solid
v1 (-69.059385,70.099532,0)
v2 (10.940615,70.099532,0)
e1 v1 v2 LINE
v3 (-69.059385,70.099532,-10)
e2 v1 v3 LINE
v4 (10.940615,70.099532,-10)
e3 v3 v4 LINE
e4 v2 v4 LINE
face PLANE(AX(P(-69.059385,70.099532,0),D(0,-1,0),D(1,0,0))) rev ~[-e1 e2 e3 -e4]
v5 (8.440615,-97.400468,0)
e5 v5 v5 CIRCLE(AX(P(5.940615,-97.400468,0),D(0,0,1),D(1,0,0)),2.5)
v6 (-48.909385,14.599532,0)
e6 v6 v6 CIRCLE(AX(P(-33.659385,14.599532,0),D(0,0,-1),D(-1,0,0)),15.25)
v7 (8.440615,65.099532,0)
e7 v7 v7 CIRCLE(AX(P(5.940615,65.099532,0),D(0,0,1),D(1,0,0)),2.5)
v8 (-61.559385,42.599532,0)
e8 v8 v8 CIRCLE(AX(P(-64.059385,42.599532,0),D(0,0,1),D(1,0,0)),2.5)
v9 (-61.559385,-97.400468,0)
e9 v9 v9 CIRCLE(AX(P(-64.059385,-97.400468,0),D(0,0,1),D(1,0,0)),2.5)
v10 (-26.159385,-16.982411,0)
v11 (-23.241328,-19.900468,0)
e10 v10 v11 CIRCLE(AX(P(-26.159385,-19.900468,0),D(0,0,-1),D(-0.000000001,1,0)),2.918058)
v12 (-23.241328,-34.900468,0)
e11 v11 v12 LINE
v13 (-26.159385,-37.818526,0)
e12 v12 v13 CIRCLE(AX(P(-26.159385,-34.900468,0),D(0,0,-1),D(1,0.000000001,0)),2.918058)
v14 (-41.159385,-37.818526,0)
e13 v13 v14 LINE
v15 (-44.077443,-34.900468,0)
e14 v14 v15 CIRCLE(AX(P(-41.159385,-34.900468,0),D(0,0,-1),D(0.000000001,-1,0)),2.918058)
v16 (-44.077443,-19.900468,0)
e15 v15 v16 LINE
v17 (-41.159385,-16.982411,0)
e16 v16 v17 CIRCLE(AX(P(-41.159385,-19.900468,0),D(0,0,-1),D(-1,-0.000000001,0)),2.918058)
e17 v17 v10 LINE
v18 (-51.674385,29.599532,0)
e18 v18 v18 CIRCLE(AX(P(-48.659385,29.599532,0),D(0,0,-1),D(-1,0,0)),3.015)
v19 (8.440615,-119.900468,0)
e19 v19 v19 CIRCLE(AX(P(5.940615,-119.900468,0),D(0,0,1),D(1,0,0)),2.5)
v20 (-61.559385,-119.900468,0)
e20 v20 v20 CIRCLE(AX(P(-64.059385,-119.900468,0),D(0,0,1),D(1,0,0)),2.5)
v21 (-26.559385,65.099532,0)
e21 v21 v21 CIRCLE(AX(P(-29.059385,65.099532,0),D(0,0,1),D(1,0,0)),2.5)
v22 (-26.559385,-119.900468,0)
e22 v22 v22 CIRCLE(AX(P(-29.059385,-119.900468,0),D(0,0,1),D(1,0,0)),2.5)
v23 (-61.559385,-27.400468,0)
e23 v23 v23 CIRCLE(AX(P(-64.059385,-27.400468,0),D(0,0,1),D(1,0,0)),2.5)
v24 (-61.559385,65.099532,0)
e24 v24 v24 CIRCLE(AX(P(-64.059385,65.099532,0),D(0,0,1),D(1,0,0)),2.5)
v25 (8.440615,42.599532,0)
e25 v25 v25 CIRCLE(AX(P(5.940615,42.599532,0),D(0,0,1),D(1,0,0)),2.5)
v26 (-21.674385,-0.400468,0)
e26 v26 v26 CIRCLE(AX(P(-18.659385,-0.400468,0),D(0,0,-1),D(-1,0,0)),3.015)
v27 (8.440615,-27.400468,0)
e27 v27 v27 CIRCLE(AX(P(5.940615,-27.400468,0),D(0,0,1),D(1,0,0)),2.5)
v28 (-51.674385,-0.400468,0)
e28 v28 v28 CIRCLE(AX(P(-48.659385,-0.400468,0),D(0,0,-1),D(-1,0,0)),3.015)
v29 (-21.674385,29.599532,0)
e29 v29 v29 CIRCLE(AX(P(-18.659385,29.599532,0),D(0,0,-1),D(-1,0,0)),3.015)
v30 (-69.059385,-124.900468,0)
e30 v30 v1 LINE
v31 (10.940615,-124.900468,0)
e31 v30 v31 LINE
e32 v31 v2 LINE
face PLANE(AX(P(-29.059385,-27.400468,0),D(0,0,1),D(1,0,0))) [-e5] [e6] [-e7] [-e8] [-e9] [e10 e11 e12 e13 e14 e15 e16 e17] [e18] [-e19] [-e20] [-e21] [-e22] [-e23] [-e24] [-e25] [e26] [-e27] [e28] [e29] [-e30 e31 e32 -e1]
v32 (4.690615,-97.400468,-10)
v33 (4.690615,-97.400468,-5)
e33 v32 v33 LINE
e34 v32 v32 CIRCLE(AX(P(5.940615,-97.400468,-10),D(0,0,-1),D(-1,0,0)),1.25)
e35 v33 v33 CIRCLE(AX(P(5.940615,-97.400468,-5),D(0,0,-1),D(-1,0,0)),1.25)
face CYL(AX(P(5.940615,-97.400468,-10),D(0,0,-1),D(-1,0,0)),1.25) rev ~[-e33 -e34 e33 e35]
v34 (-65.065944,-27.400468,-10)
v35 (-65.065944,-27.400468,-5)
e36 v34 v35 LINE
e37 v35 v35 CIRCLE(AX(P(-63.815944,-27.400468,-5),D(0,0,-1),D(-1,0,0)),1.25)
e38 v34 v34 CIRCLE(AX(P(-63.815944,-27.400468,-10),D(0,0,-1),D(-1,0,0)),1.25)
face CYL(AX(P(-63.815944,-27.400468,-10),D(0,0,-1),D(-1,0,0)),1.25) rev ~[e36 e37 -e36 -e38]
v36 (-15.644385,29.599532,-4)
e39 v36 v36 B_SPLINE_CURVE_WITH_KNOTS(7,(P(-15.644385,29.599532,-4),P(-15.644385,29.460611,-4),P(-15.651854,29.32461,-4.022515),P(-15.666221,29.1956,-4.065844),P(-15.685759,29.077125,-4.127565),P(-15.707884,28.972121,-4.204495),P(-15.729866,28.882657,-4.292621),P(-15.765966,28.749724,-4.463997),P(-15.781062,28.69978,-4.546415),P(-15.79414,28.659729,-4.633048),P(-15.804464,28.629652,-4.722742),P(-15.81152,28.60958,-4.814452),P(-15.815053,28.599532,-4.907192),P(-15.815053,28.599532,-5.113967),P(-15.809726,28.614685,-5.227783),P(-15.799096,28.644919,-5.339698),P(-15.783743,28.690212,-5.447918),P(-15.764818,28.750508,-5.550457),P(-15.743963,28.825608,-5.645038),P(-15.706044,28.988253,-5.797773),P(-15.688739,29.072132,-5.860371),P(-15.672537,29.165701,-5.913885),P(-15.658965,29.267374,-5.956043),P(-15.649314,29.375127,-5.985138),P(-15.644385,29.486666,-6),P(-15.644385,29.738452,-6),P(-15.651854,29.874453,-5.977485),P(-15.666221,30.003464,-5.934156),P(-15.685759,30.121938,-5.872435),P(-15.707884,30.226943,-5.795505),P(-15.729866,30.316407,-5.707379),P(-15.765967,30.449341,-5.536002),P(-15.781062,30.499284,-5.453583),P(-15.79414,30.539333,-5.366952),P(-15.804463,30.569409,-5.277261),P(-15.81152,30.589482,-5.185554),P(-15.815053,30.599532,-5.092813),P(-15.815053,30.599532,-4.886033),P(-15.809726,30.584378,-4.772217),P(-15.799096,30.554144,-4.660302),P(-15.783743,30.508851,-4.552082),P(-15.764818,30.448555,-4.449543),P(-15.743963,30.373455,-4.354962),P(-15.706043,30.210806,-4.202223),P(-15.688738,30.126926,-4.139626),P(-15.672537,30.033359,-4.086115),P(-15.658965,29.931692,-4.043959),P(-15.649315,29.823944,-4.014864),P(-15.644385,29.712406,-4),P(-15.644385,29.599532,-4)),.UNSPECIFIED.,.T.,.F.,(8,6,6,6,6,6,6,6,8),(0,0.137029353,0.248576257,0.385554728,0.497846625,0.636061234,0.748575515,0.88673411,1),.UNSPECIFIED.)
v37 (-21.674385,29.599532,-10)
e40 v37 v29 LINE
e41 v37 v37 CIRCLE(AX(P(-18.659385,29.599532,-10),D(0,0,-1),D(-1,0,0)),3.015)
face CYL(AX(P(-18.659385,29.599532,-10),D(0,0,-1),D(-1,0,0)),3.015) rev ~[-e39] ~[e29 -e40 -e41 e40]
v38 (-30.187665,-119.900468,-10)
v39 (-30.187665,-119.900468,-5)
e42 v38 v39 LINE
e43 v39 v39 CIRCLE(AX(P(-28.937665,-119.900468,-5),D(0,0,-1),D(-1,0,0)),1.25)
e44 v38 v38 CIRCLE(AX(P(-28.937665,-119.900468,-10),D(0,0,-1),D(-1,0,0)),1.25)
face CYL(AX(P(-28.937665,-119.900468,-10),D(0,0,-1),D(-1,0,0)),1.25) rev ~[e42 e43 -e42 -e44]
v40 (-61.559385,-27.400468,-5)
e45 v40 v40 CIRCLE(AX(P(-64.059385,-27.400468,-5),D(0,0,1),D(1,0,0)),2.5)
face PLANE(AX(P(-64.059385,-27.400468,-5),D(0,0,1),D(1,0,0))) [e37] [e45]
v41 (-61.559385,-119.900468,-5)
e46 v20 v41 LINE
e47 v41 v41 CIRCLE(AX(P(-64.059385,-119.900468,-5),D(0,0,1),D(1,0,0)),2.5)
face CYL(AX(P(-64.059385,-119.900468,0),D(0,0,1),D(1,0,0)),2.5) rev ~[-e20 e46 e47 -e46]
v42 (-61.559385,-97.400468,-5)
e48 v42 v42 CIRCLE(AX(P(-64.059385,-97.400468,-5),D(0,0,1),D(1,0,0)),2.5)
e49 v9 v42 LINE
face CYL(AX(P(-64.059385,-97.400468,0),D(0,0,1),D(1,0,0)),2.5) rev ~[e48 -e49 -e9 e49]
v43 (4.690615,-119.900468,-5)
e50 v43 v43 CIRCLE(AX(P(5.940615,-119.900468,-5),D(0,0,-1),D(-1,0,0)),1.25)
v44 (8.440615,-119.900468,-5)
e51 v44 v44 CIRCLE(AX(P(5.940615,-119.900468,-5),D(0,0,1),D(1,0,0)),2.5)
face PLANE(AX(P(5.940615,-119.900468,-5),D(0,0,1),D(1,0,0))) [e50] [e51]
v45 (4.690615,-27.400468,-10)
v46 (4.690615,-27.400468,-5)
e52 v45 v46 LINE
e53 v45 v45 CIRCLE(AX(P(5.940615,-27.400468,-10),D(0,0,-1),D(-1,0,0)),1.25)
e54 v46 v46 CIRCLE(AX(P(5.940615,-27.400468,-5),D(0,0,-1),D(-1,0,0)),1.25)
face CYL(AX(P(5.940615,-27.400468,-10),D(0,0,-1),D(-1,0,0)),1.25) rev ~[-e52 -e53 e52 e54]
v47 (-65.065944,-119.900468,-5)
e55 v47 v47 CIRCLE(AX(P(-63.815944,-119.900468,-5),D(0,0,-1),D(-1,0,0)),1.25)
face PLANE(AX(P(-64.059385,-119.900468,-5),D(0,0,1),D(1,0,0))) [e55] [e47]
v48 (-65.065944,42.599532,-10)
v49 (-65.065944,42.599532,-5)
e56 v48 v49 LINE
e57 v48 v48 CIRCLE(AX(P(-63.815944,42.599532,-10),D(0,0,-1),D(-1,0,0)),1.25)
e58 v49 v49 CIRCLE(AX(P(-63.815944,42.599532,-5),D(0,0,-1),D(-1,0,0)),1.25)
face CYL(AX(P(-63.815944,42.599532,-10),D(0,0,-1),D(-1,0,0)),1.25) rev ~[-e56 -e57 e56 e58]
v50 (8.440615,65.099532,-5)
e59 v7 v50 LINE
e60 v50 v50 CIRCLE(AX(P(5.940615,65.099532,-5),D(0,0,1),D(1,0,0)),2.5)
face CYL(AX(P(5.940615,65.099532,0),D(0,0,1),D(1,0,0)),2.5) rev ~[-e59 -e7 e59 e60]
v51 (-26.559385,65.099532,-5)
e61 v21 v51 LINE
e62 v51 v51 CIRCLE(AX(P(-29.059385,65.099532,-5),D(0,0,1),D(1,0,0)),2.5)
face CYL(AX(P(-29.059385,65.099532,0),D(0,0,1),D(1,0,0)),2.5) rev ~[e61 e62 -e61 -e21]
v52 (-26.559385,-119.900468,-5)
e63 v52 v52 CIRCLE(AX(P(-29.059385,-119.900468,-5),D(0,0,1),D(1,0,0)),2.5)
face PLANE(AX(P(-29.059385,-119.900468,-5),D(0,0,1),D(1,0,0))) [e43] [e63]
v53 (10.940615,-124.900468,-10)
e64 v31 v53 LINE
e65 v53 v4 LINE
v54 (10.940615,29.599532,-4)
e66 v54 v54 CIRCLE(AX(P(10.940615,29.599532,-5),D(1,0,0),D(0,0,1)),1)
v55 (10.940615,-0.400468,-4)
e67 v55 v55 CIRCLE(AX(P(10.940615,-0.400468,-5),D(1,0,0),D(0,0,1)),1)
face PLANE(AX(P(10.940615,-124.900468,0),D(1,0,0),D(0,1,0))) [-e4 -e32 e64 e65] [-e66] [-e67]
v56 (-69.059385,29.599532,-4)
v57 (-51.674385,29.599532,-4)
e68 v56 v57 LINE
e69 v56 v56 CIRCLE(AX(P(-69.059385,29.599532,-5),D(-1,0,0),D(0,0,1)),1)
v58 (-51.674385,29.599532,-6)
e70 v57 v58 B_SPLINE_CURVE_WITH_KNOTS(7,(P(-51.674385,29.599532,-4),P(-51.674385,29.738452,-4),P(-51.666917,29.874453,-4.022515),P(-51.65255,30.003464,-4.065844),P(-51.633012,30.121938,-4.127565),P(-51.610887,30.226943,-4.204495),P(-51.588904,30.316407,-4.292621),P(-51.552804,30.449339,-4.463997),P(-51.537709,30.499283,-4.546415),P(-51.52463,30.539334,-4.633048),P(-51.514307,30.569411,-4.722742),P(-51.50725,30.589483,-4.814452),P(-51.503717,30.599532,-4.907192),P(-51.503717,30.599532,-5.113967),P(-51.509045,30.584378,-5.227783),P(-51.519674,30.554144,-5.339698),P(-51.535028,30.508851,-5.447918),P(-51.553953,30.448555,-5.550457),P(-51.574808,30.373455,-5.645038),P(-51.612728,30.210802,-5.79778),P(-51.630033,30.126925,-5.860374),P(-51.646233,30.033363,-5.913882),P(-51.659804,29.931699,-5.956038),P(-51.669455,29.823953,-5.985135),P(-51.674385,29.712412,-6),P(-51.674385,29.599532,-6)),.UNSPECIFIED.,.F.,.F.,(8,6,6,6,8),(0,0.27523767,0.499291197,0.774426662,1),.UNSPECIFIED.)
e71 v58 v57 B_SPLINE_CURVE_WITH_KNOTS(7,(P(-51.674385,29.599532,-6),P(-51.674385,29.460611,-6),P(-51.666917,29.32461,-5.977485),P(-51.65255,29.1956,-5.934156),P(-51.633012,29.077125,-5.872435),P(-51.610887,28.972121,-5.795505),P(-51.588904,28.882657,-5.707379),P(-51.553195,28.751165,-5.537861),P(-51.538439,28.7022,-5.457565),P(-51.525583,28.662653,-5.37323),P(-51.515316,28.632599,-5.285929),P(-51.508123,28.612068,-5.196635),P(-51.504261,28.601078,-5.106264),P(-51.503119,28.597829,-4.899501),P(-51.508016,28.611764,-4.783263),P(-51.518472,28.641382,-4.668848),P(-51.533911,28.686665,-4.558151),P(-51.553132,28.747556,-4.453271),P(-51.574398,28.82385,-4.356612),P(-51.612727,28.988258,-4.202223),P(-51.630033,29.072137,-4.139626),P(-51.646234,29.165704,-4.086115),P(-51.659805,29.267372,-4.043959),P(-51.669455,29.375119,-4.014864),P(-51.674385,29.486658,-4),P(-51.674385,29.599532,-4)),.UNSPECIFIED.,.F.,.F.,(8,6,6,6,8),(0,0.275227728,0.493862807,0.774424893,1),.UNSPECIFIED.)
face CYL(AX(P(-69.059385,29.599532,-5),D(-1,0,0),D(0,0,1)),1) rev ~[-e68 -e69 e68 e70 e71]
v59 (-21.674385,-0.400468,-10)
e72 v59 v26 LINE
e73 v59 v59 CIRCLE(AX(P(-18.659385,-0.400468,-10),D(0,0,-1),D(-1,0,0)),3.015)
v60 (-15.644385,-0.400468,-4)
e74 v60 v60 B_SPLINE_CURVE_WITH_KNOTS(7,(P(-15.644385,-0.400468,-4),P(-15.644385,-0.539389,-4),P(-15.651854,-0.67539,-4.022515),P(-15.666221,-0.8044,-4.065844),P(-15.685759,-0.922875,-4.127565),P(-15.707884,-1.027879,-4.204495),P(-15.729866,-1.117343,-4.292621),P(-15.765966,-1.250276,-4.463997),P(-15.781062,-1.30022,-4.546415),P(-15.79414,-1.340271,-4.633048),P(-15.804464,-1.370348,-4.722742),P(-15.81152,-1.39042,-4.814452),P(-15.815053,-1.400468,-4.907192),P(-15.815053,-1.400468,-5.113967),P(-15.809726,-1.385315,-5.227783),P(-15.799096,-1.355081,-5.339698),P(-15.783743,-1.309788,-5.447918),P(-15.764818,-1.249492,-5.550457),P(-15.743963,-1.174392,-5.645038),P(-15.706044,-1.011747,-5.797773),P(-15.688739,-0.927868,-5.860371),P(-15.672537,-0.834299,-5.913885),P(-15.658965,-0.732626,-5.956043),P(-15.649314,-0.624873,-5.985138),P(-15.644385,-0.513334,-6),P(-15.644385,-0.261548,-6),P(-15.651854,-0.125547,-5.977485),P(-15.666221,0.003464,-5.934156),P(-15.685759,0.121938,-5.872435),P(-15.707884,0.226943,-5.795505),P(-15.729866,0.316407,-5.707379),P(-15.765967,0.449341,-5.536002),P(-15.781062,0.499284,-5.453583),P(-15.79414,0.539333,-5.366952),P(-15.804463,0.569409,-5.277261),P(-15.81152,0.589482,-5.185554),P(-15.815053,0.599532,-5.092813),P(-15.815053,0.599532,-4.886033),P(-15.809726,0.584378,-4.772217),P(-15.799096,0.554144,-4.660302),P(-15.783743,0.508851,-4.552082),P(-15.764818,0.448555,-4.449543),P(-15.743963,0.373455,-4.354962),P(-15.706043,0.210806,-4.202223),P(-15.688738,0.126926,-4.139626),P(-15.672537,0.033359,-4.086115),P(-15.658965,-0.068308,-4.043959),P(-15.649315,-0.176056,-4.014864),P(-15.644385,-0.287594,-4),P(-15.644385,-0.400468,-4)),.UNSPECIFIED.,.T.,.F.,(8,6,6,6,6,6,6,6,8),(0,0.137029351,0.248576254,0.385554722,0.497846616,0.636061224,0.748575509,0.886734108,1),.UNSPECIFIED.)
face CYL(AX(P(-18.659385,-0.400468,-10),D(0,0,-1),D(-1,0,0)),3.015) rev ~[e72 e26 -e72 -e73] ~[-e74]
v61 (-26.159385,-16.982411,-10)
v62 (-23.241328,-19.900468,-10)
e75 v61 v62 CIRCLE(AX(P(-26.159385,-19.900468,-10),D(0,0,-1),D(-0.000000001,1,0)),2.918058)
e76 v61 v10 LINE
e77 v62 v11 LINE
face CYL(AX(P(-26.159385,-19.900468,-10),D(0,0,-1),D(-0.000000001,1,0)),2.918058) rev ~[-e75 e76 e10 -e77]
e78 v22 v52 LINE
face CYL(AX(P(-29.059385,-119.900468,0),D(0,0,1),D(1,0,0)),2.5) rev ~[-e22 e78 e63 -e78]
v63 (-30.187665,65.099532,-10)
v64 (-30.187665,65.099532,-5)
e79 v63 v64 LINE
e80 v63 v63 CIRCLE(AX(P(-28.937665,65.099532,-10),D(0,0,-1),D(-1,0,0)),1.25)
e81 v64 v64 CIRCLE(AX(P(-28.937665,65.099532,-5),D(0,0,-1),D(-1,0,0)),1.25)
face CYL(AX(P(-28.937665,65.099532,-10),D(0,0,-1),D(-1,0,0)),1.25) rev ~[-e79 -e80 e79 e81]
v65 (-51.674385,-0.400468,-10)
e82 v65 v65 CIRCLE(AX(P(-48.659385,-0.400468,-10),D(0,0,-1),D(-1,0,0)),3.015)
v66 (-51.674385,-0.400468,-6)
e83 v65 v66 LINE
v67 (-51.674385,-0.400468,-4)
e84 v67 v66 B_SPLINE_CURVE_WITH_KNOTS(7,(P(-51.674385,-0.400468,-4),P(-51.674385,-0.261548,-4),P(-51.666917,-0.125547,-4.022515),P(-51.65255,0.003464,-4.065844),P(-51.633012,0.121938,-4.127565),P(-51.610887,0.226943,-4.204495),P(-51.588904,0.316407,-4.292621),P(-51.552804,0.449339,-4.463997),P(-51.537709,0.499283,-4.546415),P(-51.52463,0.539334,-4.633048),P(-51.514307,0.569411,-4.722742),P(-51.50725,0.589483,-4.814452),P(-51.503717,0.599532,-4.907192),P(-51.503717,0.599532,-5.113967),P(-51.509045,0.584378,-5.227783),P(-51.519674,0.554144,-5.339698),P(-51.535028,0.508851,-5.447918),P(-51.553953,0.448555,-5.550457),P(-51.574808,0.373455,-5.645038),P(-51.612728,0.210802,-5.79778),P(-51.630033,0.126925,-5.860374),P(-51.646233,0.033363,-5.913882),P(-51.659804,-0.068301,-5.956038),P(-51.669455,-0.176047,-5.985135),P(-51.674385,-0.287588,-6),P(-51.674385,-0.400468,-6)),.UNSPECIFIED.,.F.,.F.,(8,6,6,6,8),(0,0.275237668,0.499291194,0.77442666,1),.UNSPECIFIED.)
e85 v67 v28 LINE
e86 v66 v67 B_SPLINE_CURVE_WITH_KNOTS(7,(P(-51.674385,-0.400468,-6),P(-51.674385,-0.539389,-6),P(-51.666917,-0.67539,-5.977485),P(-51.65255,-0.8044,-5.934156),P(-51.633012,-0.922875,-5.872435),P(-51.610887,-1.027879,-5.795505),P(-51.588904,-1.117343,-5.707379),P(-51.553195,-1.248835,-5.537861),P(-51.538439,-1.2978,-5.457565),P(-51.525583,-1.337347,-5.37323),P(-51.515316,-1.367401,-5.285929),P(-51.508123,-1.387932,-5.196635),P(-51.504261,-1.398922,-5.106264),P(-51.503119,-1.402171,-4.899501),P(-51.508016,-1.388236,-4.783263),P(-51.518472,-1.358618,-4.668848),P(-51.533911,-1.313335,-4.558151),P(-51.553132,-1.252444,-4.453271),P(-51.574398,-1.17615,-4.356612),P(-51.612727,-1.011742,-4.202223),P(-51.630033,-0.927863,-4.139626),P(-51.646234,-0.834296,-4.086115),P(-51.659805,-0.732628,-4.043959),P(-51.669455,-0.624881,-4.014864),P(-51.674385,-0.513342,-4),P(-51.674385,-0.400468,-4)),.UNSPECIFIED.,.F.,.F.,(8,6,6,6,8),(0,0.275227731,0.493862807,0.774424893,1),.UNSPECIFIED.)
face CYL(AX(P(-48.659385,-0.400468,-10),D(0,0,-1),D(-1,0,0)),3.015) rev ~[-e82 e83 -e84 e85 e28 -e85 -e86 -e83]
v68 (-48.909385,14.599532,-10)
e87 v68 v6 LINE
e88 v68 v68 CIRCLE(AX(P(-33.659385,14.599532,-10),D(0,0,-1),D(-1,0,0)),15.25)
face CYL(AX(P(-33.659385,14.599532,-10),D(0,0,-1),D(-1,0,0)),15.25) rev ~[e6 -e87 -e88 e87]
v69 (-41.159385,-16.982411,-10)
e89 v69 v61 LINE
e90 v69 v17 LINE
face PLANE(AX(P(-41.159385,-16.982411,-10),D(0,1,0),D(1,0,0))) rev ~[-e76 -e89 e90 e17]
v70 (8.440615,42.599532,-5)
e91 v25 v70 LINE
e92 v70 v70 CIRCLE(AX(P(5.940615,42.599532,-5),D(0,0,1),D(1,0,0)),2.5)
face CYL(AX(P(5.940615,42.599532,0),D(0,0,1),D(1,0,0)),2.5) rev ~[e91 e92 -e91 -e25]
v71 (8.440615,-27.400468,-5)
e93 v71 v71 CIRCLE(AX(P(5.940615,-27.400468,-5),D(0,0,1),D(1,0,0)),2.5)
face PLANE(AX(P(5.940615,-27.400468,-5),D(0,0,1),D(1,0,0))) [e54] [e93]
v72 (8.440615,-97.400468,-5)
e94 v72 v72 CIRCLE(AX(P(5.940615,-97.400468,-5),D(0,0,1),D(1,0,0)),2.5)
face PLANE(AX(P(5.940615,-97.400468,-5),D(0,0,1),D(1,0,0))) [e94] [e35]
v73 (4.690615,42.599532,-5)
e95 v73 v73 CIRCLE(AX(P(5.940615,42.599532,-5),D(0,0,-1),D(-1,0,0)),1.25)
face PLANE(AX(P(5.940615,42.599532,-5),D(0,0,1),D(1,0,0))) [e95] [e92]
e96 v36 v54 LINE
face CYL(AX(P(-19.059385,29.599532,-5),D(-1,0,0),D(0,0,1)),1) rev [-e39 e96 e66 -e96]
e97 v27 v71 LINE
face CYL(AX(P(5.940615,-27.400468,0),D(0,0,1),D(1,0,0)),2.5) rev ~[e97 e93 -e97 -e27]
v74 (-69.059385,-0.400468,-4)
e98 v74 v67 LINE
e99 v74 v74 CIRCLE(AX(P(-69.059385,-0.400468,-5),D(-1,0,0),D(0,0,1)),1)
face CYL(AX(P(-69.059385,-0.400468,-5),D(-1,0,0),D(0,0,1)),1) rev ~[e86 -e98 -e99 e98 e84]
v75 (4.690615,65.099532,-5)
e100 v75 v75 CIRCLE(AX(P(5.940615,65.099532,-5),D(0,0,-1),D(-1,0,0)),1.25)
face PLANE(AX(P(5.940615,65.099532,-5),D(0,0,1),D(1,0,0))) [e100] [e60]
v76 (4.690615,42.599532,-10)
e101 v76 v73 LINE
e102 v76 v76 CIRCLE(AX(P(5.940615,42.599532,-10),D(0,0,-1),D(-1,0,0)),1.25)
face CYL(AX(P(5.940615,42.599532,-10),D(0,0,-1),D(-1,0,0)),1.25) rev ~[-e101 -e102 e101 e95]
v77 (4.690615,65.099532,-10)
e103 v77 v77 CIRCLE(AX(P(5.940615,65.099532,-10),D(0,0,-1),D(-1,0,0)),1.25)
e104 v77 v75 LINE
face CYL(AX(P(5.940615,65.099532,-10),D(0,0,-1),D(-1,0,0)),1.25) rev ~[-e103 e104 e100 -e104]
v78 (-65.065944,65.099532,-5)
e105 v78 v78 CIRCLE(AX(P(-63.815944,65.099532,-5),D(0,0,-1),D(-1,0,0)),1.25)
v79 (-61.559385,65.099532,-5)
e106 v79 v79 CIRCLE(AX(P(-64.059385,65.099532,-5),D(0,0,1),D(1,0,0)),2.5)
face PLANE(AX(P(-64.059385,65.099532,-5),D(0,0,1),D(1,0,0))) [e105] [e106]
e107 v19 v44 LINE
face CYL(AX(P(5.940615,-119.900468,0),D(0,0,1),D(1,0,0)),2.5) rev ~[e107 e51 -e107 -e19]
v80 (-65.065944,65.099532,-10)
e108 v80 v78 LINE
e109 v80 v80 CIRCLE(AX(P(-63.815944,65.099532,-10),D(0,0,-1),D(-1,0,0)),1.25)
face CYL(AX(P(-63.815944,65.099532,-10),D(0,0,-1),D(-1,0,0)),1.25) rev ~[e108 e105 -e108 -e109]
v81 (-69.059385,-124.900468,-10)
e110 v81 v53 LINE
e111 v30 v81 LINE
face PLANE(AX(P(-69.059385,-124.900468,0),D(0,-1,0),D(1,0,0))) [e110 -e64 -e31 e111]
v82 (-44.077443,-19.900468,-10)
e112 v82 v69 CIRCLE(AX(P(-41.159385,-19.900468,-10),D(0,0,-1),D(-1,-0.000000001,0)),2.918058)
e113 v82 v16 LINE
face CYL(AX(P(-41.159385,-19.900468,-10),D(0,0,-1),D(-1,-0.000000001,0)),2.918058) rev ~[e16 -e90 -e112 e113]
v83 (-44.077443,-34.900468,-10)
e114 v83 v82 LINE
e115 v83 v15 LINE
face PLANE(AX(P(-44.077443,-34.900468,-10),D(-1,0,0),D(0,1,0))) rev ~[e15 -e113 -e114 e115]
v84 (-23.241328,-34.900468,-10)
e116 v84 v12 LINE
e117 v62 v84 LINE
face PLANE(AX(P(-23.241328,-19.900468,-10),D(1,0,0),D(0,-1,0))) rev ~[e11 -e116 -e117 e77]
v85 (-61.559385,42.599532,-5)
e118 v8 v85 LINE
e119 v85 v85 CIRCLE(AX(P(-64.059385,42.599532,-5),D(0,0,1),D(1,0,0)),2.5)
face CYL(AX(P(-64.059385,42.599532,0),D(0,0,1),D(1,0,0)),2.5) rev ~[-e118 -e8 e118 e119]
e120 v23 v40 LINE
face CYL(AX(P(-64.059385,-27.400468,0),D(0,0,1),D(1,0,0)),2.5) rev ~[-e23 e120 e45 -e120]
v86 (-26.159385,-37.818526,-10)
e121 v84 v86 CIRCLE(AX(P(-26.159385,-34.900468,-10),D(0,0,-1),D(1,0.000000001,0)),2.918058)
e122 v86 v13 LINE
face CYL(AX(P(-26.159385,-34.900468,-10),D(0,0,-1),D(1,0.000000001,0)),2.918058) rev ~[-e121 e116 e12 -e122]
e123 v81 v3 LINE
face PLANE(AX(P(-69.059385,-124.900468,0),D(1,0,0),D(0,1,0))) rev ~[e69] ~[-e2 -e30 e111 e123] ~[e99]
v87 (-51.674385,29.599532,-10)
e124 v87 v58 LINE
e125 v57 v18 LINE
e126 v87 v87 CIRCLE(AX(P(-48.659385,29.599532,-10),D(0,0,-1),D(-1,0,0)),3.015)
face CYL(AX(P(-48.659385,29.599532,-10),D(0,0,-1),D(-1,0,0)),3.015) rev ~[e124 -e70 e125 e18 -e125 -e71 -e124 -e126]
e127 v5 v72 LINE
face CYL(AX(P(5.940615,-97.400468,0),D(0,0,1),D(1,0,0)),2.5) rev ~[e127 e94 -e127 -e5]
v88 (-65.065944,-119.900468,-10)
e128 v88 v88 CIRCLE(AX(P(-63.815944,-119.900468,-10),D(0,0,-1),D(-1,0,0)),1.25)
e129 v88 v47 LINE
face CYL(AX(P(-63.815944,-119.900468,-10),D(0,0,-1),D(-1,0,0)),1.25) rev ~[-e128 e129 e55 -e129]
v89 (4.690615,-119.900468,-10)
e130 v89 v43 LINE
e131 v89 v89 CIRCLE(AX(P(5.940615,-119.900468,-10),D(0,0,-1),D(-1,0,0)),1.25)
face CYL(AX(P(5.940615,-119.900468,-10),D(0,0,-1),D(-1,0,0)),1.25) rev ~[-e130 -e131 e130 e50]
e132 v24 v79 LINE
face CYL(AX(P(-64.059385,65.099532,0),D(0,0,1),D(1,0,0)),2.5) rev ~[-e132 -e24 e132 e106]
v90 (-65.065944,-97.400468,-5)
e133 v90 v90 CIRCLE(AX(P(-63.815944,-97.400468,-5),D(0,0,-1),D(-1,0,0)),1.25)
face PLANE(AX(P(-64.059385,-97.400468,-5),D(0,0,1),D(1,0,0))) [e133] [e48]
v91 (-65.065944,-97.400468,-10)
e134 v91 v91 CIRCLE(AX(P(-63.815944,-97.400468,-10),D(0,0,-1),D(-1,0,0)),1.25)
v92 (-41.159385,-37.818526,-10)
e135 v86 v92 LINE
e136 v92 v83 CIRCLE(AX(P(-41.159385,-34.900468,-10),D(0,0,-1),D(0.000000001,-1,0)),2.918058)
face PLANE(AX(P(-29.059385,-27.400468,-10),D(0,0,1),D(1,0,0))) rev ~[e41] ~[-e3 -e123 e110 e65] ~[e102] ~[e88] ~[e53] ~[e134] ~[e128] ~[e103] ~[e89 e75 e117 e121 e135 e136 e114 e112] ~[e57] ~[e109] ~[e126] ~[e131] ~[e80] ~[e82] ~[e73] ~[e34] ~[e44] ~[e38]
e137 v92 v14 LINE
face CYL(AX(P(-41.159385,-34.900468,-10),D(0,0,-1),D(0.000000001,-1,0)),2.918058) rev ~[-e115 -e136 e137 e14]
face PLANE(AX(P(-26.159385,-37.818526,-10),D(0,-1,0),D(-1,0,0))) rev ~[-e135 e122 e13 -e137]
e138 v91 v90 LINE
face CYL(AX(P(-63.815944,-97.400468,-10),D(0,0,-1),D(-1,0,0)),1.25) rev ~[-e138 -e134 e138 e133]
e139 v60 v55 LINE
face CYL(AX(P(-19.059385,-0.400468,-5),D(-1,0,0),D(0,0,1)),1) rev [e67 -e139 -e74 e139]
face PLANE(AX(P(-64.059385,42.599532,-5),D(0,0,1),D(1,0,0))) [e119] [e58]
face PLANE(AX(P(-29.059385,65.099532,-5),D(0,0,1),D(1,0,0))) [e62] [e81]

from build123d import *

# Parameters (mm, degrees)
SKIZZE1_W                       = 80
SKIZZE1_H                       = 195
AUFSATZ_LINEAR_AUSTRAGEN1_DEPTH = 10
SKIZZE2_R                       = 3.015
SKIZZE2_R_2                     = 15.25
SCHNITT_LINEAR_AUSTRAGEN1_DEPTH = 10
SKIZZE3_R                       = 1.25
SCHNITT_LINEAR_AUSTRAGEN2_DEPTH = 5
SKIZZE4_R                       = 2.5
SCHNITT_LINEAR_AUSTRAGEN3_DEPTH = 5
SKIZZE5_R                       = 1
SCHNITT_LINEAR_AUSTRAGEN4_DEPTH = 20
SCHNITT_LINEAR_START            = -30
SKIZZE6_R                       = 1
SCHNITT_LINEAR_AUSTRAGEN5_DEPTH = 30


with BuildPart() as part:
    # Skizze1 → Aufsatz-Linear austragen1 (new body)
    with BuildSketch(Plane.XY):
        with Locations((-29.059385344, -27.400468384)):
            Rectangle(SKIZZE1_W, SKIZZE1_H)
    extrude(amount=-AUFSATZ_LINEAR_AUSTRAGEN1_DEPTH)

    # Skizze2 → Schnitt-Linear austragen1 (cut)
    with BuildSketch(Plane(origin=(0, 0, -10), x_dir=(-1, 0, 0), z_dir=(0, 0, -1))):
        with Locations((18.659385344, 29.599531616)):
            Circle(SKIZZE2_R)
        with Locations((48.659385344, 29.599531616)):
            Circle(SKIZZE2_R)
        with Locations((18.659385344, -0.400468384)):
            Circle(SKIZZE2_R)
        with Locations((48.659385344, -0.400468384)):
            Circle(SKIZZE2_R)
        with Locations((33.659385344, 14.599531616)):
            Circle(SKIZZE2_R_2)
        with BuildLine():
            Line((23.241327633, -19.900468384), (23.241327633, -34.900468384))
            ThreePointArc((23.241327633, -34.900468384), (24.096006948, -36.96384678), (26.159385344, -37.818526095))
            Line((26.159385344, -37.818526095), (41.159385344, -37.818526095))
            ThreePointArc((41.159385344, -37.818526095), (43.22276374, -36.96384678), (44.077443055, -34.900468384))
            Line((44.077443055, -34.900468384), (44.077443055, -19.900468384))
            ThreePointArc((44.077443055, -19.900468384), (43.22276374, -17.837089988), (41.159385344, -16.982410673))
            Line((41.159385344, -16.982410673), (26.159385344, -16.982410673))
            ThreePointArc((26.159385344, -16.982410673), (24.096006948, -17.837089988), (23.241327633, -19.900468384))
        make_face()
    extrude(amount=-SCHNITT_LINEAR_AUSTRAGEN1_DEPTH, mode=Mode.SUBTRACT)

    # Skizze3 → Schnitt-Linear austragen2 (cut)
    with BuildSketch(Plane(origin=(0, 0, -10), x_dir=(-1, 0, 0), z_dir=(0, 0, -1))):
        with Locations((-5.940614656, 65.099531616)):
            Circle(SKIZZE3_R)
        with Locations((63.81594416, 65.099531616)):
            Circle(SKIZZE3_R)
        with Locations((28.937664752, 65.099531616)):
            Circle(SKIZZE3_R)
        with Locations((63.81594416, 42.599531616)):
            Circle(SKIZZE3_R)
        with Locations((63.81594416, -27.400468384)):
            Circle(SKIZZE3_R)
        with Locations((63.81594416, -97.400468384)):
            Circle(SKIZZE3_R)
        with Locations((63.81594416, -119.900468384)):
            Circle(SKIZZE3_R)
        with Locations((28.937664752, -119.900468384)):
            Circle(SKIZZE3_R)
        with Locations((-5.940614656, -119.900468384)):
            Circle(SKIZZE3_R)
        with Locations((-5.940614656, -97.400468384)):
            Circle(SKIZZE3_R)
        with Locations((-5.940614656, -27.400468384)):
            Circle(SKIZZE3_R)
        with Locations((-5.940614656, 42.599531616)):
            Circle(SKIZZE3_R)
    extrude(amount=-SCHNITT_LINEAR_AUSTRAGEN2_DEPTH, mode=Mode.SUBTRACT)

    # Skizze4 → Schnitt-Linear austragen3 (cut)
    with BuildSketch(Plane.XY):
        with Locations((-64.059385344, 65.099531616)):
            Circle(SKIZZE4_R)
        with Locations((5.940614656, 65.099531616)):
            Circle(SKIZZE4_R)
        with Locations((5.940614656, 42.599531616)):
            Circle(SKIZZE4_R)
        with Locations((5.940614656, -27.400468384)):
            Circle(SKIZZE4_R)
        with Locations((5.940614656, -97.400468384)):
            Circle(SKIZZE4_R)
        with Locations((5.940614656, -119.900468384)):
            Circle(SKIZZE4_R)
        with Locations((-64.059385344, -119.900468384)):
            Circle(SKIZZE4_R)
        with Locations((-64.059385344, -97.400468384)):
            Circle(SKIZZE4_R)
        with Locations((-64.059385344, -27.400468384)):
            Circle(SKIZZE4_R)
        with Locations((-64.059385344, 42.599531616)):
            Circle(SKIZZE4_R)
        with Locations((-29.059385344, -119.900468384)):
            Circle(SKIZZE4_R)
        with Locations((-29.059385344, 65.099531616)):
            Circle(SKIZZE4_R)
    extrude(amount=-SCHNITT_LINEAR_AUSTRAGEN3_DEPTH, mode=Mode.SUBTRACT)

    # Skizze5 → Schnitt-Linear austragen4 (cut)
    with BuildSketch(Plane.ZY.offset(69.059385344)):
        with Locations((-5, 29.599531616)):
            Circle(SKIZZE5_R)
        with Locations((-5, -0.400468384)):
            Circle(SKIZZE5_R)
    extrude(amount=-SCHNITT_LINEAR_AUSTRAGEN4_DEPTH, mode=Mode.SUBTRACT)

    # Skizze6 → Schnitt-Linear austragen5 (cut)
    with BuildSketch(Plane(origin=(10.940614656, 0, 0), x_dir=(0, 0, -1), z_dir=(1, 0, 0)).offset(SCHNITT_LINEAR_START)):
        with Locations(Location((5, 29.599531616, 0), (0, 0, 180))):
            Circle(SKIZZE6_R)
        with Locations(Location((5, -0.400468384, 0), (0, 0, 180))):
            Circle(SKIZZE6_R)
    extrude(amount=SCHNITT_LINEAR_AUSTRAGEN5_DEPTH, mode=Mode.SUBTRACT)


solid = part.part
